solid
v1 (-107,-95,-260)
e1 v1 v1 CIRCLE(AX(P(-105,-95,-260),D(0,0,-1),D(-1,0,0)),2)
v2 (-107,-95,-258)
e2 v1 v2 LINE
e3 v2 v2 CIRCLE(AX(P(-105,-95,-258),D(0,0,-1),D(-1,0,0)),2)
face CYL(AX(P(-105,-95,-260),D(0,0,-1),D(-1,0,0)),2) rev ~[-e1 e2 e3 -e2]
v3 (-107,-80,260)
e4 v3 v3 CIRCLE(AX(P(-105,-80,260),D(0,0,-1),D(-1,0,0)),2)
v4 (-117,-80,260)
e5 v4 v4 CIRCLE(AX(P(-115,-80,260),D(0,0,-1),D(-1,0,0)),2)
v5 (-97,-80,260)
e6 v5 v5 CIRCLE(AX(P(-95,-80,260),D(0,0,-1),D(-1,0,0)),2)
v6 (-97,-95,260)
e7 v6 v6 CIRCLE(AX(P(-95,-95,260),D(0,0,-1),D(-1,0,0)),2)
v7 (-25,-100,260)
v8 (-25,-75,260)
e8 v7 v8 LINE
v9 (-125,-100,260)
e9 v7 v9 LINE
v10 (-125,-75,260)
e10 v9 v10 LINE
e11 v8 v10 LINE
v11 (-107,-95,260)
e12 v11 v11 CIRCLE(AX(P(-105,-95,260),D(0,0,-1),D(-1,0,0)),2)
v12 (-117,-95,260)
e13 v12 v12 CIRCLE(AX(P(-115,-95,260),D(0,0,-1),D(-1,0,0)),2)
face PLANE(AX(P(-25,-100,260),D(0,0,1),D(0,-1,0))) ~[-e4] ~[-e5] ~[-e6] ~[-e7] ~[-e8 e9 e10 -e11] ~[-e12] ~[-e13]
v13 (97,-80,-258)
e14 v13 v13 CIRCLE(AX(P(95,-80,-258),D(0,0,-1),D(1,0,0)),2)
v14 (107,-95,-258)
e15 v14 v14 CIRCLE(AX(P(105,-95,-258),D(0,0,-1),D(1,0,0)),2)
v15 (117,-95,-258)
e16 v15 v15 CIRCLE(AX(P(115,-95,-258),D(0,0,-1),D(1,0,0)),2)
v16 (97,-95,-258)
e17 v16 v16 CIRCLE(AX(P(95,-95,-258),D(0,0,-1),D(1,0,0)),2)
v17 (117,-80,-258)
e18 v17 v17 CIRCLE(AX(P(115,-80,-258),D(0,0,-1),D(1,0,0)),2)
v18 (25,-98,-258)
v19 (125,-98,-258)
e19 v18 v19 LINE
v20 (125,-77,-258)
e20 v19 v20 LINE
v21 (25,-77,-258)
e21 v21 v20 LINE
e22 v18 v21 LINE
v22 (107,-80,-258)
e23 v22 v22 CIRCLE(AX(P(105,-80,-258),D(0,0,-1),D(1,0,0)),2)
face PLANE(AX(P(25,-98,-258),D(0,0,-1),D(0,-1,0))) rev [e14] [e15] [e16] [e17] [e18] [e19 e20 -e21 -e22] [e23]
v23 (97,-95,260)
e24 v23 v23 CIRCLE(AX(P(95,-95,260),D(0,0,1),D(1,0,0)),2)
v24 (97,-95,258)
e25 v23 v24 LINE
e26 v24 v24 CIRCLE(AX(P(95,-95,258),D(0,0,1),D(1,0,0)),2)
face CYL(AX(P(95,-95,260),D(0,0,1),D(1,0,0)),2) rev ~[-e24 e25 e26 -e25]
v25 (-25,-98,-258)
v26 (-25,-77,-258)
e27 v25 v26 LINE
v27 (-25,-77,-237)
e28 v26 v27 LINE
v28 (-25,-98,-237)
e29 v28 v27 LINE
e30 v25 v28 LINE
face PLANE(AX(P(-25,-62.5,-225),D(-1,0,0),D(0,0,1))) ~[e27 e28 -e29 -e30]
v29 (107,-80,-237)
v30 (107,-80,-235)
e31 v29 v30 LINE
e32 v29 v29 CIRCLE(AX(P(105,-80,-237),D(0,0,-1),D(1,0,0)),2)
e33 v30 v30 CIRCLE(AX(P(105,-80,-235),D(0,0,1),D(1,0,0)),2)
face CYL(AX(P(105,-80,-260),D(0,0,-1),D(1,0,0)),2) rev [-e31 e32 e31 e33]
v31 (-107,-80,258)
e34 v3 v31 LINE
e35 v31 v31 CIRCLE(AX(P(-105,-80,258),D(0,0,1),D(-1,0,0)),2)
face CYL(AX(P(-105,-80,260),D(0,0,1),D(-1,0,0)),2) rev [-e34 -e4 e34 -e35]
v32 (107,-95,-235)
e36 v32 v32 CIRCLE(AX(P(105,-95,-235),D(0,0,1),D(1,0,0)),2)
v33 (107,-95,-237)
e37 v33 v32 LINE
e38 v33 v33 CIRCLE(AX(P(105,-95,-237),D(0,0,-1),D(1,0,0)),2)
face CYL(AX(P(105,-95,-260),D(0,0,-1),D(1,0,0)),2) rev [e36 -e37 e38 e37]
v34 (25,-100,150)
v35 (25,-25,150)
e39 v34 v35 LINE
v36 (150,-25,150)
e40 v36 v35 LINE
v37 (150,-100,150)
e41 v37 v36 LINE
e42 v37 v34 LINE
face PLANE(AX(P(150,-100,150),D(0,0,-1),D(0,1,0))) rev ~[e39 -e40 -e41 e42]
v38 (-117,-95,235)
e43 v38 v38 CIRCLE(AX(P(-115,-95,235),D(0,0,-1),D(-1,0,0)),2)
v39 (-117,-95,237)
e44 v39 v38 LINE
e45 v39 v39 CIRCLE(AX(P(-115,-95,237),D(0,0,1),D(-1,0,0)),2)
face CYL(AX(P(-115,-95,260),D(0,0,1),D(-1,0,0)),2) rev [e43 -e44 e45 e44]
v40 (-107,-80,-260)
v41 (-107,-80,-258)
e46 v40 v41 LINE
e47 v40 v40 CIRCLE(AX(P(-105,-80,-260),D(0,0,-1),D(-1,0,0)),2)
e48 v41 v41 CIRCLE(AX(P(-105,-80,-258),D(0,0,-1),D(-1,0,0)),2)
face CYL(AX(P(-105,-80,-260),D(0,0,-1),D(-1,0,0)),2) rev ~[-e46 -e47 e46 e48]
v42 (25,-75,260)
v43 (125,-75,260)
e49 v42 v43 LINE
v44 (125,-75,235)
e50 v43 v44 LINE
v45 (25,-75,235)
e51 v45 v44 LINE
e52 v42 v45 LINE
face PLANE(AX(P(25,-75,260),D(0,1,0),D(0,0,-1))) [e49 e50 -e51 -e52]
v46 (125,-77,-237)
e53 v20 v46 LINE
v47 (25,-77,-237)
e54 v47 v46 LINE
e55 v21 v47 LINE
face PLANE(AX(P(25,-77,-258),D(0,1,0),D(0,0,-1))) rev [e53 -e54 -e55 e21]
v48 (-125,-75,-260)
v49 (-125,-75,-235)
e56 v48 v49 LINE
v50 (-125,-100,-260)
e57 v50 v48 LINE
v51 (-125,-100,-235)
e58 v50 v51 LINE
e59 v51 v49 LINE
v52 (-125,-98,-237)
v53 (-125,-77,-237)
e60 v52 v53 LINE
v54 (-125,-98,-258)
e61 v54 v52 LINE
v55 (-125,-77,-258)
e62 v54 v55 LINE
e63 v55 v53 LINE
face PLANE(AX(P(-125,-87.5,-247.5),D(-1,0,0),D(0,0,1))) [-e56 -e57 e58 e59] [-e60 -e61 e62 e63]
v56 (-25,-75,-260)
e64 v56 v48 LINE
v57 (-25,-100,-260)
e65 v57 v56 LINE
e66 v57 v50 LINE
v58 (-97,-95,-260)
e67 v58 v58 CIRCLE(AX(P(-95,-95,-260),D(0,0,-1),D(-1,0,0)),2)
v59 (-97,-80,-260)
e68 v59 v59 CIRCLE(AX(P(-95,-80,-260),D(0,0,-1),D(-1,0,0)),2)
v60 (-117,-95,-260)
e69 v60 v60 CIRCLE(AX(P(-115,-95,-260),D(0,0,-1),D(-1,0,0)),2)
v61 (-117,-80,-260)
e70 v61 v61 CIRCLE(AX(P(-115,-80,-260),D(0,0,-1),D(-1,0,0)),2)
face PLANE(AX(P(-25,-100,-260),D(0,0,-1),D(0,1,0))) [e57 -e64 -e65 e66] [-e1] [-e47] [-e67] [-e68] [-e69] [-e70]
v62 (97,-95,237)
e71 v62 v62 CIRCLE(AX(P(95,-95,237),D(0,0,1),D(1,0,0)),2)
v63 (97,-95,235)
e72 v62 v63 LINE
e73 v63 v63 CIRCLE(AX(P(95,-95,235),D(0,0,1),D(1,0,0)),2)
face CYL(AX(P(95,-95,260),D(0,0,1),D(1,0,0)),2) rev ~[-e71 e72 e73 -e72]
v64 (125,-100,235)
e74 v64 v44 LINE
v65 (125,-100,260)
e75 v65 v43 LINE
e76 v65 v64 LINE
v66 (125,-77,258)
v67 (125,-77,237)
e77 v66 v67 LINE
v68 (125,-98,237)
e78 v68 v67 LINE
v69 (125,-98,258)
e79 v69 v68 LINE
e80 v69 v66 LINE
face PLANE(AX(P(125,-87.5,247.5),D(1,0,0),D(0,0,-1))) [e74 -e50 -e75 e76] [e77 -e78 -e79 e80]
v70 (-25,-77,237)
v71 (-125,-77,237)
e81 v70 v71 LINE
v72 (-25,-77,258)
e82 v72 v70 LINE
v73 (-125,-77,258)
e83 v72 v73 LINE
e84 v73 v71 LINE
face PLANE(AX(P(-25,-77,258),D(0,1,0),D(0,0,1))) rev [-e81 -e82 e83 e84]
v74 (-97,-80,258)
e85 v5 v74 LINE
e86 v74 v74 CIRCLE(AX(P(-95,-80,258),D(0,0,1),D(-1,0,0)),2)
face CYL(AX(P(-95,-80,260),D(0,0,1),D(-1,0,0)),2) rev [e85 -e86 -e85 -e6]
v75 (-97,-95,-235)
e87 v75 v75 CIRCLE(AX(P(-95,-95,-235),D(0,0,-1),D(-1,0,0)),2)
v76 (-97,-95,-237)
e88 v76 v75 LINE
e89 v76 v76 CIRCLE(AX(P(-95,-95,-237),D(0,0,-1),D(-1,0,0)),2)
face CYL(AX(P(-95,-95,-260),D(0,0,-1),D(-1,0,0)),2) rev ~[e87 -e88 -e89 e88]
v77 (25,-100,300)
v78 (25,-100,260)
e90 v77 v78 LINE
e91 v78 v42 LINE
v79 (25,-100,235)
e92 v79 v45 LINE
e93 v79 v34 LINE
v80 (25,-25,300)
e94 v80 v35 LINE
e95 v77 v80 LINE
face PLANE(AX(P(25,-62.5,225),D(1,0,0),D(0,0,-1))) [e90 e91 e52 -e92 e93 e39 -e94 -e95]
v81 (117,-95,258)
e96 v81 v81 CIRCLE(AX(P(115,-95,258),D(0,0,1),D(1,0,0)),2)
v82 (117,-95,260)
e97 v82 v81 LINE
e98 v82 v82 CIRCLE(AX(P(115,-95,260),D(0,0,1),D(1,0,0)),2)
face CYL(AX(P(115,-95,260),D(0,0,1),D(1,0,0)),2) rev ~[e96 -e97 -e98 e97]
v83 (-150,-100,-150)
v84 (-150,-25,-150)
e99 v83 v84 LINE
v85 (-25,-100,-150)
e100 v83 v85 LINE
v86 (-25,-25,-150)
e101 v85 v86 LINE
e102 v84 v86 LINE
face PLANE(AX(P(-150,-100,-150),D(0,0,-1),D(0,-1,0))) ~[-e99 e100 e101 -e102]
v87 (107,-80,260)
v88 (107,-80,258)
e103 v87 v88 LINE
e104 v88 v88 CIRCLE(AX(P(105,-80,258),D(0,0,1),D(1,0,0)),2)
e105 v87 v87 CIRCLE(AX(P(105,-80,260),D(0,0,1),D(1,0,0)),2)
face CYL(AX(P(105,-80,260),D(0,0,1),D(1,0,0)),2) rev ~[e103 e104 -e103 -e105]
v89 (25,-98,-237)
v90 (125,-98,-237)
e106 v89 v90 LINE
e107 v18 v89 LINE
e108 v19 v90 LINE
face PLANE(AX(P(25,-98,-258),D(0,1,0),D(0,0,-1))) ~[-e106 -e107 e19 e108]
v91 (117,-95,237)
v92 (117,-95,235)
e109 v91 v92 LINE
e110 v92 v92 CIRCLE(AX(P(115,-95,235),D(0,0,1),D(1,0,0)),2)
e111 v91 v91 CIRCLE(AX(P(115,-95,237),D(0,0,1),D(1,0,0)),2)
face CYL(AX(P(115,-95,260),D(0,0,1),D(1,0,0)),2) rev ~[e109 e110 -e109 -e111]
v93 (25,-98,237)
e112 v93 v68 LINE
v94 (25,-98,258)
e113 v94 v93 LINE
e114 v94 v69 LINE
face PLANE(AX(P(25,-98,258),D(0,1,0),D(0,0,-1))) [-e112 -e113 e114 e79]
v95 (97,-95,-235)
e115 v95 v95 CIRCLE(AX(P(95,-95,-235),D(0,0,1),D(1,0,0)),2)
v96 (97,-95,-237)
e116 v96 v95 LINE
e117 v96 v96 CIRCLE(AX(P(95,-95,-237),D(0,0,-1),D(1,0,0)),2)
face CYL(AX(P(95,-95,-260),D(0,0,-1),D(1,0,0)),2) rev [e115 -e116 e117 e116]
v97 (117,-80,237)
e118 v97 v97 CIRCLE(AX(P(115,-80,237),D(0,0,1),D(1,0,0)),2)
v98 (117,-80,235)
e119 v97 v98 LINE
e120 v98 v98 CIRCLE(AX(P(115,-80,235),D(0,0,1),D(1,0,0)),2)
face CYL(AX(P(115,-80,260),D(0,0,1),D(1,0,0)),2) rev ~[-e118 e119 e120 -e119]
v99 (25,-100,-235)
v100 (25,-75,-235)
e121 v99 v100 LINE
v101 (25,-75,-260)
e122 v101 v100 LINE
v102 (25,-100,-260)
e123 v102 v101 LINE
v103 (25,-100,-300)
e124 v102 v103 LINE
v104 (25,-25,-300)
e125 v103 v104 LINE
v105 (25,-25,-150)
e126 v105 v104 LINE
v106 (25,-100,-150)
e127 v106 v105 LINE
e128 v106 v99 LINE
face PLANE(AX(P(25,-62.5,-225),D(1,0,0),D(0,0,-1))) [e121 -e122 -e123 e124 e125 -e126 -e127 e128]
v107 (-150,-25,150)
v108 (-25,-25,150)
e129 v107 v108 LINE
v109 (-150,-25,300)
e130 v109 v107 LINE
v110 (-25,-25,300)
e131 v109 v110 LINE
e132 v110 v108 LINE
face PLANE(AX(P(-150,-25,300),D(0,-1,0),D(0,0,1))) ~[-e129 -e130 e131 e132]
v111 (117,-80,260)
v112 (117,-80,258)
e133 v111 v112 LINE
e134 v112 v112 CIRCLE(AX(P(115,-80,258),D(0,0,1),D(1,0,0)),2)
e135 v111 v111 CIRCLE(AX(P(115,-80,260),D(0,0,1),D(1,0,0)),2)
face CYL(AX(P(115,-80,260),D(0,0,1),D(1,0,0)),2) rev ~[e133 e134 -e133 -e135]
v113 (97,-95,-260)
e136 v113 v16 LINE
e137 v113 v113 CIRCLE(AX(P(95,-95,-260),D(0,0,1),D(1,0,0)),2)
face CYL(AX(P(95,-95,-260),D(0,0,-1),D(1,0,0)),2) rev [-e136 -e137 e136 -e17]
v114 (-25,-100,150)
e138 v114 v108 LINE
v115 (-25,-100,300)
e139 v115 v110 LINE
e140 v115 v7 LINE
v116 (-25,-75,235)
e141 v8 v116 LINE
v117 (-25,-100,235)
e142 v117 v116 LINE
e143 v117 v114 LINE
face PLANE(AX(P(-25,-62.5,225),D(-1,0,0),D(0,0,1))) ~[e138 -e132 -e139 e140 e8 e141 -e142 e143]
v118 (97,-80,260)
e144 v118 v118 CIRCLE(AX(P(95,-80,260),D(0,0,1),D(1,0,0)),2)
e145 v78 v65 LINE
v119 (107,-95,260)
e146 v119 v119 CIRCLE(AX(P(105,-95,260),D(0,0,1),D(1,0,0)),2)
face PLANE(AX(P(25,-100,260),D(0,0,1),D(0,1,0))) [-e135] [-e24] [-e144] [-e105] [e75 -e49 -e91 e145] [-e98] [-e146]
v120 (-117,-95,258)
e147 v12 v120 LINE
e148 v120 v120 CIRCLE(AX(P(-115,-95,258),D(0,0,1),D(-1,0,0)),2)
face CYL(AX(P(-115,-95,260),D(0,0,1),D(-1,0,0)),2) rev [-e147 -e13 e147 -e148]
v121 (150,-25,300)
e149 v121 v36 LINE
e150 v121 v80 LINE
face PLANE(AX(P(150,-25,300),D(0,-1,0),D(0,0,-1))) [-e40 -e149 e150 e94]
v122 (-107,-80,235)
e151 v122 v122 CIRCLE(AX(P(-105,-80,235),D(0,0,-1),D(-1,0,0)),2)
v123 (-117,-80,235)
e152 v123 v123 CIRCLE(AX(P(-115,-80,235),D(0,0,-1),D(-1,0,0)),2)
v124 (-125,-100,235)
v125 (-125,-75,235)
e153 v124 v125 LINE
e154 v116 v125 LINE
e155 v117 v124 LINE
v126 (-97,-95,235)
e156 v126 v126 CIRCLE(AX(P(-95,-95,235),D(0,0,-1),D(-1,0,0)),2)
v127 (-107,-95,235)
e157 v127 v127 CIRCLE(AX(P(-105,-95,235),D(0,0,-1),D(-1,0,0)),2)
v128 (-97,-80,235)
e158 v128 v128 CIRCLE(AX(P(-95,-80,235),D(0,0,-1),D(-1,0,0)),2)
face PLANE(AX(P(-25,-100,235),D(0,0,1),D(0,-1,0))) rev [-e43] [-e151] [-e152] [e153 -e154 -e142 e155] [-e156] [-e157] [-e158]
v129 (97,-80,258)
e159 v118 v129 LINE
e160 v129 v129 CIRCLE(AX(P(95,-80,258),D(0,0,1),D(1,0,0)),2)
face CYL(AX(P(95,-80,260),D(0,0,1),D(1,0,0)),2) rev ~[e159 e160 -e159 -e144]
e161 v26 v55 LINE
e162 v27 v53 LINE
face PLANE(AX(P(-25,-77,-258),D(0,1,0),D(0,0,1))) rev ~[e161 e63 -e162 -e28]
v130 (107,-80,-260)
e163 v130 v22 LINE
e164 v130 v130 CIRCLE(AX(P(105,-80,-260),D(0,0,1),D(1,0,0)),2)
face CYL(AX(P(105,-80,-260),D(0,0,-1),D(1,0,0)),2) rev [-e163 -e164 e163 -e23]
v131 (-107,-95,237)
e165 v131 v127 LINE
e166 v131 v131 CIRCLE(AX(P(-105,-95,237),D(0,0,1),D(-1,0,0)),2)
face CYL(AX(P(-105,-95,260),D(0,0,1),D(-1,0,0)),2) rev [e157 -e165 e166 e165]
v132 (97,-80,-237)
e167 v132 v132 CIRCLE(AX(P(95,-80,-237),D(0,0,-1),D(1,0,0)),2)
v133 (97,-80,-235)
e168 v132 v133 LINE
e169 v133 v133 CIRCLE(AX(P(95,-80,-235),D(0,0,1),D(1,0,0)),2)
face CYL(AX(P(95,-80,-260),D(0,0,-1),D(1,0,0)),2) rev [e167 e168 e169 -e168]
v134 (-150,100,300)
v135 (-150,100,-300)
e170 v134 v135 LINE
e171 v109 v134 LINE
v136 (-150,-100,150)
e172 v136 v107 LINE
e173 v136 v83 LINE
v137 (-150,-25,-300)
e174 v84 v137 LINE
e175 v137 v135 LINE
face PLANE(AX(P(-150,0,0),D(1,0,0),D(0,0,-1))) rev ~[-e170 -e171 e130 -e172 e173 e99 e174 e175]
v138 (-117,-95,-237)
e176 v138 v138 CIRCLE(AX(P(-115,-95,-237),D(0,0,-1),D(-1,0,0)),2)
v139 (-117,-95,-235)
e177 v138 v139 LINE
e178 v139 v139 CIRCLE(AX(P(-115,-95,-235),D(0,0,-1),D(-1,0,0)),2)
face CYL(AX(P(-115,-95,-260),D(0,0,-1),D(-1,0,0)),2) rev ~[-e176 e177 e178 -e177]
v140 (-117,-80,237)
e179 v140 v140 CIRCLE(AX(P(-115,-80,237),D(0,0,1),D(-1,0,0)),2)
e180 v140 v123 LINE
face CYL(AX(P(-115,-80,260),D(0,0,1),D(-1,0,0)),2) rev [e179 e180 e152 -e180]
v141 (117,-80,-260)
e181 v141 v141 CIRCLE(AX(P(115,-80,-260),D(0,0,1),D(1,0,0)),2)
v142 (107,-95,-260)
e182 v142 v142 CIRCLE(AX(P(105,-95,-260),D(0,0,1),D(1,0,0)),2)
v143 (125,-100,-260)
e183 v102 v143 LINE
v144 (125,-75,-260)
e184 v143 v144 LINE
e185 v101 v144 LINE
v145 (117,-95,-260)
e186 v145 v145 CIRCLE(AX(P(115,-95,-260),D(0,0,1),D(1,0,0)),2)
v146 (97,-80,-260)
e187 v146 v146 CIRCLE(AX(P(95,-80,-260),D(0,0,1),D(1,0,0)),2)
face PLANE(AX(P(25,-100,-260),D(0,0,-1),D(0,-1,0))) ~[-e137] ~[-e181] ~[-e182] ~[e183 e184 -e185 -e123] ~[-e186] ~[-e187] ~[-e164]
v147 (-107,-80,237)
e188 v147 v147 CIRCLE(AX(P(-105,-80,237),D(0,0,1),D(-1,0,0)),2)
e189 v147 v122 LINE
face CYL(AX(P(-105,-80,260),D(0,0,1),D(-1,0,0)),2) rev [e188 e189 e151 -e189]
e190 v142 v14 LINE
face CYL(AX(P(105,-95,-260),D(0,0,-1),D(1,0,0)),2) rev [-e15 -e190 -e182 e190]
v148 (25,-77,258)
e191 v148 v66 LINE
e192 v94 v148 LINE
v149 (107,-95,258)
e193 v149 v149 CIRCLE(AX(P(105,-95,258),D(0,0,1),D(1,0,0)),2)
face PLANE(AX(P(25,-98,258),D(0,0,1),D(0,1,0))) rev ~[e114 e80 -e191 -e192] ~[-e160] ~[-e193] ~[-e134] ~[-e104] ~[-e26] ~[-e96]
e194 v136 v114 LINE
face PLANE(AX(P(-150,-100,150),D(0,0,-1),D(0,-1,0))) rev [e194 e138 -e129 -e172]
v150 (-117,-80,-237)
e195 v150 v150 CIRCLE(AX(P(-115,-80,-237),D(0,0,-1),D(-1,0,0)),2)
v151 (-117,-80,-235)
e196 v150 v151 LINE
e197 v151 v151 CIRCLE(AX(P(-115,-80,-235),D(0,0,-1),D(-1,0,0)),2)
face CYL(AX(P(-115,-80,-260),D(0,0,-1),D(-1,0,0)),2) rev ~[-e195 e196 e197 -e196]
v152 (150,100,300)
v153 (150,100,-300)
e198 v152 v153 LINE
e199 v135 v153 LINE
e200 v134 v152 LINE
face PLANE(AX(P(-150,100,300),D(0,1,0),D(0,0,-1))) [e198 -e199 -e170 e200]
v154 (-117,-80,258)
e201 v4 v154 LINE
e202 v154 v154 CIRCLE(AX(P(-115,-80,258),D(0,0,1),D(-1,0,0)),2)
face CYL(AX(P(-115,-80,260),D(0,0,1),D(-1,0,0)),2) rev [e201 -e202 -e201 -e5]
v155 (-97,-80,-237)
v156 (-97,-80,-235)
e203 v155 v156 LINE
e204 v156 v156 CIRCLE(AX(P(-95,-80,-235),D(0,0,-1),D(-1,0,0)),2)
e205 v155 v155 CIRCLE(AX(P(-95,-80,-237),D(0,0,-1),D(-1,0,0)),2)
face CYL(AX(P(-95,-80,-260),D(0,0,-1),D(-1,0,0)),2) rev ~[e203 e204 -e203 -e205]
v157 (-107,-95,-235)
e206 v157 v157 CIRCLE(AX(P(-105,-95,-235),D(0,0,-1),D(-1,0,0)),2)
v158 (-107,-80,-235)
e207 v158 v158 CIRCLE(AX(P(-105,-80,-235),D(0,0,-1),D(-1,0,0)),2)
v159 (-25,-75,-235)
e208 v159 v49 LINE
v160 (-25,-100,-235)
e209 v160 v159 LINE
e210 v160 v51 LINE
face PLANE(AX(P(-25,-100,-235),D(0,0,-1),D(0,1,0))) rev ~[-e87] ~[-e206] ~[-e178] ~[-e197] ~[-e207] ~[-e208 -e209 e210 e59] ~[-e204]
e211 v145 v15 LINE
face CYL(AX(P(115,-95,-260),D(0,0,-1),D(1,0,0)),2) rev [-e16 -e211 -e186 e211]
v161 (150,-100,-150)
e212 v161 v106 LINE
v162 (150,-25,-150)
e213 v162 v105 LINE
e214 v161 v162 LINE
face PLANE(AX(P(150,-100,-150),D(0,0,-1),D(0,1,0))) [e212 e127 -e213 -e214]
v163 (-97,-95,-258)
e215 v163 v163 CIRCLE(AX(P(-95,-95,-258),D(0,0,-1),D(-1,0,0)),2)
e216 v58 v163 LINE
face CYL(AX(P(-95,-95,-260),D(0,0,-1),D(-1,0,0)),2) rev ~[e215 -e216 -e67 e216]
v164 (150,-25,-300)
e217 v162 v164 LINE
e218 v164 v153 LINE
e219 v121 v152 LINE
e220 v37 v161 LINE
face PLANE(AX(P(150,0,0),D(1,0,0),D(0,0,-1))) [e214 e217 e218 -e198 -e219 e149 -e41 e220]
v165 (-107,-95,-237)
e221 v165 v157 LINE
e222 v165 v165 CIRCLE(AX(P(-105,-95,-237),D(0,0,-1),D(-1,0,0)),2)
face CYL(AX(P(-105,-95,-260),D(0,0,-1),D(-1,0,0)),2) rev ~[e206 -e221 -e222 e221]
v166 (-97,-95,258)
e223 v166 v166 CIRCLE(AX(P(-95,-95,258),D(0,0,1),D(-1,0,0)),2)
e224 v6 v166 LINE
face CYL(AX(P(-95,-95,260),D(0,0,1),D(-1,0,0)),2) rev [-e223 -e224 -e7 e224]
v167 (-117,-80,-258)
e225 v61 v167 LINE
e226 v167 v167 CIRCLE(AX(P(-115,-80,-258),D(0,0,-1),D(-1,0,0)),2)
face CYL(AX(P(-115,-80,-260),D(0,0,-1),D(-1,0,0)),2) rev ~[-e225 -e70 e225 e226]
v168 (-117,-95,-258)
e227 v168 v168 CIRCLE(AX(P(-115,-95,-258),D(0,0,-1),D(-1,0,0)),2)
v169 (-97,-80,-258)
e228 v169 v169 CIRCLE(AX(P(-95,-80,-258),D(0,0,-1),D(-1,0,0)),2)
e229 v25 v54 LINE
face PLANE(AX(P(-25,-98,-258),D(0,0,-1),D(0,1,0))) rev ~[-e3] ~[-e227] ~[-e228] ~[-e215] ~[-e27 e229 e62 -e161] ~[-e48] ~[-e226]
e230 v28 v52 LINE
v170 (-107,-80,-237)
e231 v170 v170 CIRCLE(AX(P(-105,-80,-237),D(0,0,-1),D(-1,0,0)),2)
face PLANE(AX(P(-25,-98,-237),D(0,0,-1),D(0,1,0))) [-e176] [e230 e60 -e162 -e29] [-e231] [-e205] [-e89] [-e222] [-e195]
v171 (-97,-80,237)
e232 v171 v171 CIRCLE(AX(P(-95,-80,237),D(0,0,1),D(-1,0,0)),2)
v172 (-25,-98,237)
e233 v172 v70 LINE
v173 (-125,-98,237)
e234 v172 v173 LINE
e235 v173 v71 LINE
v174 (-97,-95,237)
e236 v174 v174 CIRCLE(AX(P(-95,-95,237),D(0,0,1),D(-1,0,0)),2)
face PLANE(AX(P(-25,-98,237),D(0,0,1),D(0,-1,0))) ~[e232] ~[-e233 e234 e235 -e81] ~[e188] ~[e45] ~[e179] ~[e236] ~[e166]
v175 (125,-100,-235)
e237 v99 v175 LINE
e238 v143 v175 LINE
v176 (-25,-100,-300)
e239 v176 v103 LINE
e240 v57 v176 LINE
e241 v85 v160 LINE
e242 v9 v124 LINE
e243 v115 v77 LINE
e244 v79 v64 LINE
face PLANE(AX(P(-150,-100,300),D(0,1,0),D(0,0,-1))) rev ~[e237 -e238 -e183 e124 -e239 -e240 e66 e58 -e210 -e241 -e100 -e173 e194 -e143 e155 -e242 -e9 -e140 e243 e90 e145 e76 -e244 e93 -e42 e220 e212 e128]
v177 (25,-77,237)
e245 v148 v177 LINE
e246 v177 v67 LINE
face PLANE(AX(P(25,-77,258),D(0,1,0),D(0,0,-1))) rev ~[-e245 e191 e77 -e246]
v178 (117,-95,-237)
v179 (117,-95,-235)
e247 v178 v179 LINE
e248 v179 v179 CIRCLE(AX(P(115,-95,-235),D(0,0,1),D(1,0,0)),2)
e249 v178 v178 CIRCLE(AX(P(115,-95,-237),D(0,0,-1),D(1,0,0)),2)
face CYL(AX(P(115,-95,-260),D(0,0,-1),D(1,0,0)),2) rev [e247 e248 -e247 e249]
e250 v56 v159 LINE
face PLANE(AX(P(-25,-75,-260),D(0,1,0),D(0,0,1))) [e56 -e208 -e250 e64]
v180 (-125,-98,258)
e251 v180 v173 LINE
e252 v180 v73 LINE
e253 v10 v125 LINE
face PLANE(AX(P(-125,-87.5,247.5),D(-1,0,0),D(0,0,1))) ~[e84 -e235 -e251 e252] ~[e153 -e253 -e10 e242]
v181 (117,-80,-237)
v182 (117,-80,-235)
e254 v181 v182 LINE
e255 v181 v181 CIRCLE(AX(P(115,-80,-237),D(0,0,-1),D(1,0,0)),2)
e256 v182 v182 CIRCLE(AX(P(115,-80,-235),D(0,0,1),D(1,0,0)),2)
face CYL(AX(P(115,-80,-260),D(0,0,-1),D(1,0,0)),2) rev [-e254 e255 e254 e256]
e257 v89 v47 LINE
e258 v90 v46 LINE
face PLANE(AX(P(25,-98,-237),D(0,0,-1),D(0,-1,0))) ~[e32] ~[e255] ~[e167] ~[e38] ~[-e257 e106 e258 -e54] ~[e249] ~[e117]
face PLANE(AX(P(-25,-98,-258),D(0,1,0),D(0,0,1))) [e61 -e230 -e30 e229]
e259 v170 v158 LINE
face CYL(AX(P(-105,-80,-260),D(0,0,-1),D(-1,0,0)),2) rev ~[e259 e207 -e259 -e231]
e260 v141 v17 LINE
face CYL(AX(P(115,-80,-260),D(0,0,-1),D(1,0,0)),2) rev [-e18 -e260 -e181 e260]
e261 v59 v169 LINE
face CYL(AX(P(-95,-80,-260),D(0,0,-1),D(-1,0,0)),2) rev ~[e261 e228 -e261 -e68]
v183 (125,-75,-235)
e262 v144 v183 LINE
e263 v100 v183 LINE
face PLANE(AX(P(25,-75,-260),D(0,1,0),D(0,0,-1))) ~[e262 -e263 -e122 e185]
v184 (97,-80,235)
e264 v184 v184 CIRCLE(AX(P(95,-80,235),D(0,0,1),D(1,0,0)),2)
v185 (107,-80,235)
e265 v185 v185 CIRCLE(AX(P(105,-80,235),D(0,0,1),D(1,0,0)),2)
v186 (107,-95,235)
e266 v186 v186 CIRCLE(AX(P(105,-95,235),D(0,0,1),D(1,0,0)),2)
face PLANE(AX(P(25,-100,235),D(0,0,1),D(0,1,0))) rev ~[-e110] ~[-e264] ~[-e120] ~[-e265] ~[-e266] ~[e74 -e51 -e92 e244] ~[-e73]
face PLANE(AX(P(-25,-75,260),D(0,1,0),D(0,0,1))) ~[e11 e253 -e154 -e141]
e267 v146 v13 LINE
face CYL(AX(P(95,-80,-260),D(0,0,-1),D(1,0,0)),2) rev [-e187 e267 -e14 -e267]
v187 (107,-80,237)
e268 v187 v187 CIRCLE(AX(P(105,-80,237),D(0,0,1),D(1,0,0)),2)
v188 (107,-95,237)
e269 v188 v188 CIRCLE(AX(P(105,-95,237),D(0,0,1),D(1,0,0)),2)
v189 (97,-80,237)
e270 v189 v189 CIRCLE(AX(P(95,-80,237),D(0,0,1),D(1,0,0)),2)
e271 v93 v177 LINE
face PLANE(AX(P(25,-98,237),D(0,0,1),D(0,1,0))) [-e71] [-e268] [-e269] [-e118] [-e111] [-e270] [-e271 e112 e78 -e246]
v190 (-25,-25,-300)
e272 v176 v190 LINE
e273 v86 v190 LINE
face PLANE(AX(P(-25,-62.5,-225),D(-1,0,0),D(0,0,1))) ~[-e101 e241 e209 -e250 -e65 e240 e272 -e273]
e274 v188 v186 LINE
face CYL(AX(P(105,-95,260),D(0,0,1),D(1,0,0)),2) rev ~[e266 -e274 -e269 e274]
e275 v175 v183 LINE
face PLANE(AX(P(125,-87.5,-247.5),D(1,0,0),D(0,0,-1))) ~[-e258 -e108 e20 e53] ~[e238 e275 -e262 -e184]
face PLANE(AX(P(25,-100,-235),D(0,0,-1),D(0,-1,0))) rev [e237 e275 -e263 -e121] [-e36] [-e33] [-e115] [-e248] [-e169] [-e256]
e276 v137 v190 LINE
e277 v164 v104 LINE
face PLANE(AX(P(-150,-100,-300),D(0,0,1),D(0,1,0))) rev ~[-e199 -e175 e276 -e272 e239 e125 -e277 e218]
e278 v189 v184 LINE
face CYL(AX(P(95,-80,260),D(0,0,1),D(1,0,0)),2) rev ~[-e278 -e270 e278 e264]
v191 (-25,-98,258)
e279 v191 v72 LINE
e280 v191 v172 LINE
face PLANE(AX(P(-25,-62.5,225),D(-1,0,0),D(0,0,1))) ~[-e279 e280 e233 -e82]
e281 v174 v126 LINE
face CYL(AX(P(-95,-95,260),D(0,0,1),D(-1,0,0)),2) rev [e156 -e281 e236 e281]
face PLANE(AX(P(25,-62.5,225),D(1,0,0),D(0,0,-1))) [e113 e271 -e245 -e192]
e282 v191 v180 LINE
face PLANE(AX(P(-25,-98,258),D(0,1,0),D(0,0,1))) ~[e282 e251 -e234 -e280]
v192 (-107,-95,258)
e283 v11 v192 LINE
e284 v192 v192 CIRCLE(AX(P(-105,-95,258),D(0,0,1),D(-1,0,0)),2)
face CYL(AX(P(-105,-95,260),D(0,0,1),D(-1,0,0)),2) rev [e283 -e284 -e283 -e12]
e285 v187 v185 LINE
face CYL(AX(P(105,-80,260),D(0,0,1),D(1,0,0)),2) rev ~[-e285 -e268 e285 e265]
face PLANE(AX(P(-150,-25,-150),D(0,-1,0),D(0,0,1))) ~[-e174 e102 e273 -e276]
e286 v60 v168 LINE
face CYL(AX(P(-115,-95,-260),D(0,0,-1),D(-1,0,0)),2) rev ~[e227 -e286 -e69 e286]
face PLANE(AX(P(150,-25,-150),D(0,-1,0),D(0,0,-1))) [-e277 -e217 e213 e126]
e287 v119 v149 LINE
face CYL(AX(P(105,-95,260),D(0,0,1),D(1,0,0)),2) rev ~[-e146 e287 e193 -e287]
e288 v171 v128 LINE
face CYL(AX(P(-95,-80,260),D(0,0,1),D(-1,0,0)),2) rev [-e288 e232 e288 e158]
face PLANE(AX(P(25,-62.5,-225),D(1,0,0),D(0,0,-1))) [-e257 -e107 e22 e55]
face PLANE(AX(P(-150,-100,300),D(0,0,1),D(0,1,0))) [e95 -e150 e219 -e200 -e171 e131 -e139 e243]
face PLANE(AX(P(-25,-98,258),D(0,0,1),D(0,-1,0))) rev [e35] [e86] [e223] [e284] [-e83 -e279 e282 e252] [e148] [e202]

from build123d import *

# Parameters (mm, degrees)
BOSS_EXTRUDE1_DEPTH       = 150
BOSS_EXTRUDE1_DEPTH_BACK  = 150
SKETCH2_W                 = 600
SKETCH2_H                 = 200
SKETCH3_W                 = 150
SKETCH3_H                 = 75
CUT_EXTRUDE1_DEPTH        = 125
SKETCH4_W                 = 25
SKETCH4_H                 = 25
SKETCH4_W_2               = 21
SKETCH4_H_2               = 21
BOSS_EXTRUDE2_DEPTH       = 100
SKETCH5_R                 = 2
CUT_EXTRUDE2_DEPTH        = 25
MIRROR3_COPY_1_SKETCH_W   = 25
MIRROR3_COPY_1_SKETCH_H   = 25
MIRROR3_COPY_1_SKETCH_W_2 = 21
MIRROR3_COPY_1_SKETCH_H_2 = 21
MIRROR3_COPY_1_DEPTH      = 100
MIRROR3_COPY_2_SKETCH_R   = 2
MIRROR3_COPY_2_DEPTH      = 25
MIRROR3_COPY_3_SKETCH_W   = 25
MIRROR3_COPY_3_SKETCH_H   = 25
MIRROR3_COPY_3_SKETCH_W_2 = 21
MIRROR3_COPY_3_SKETCH_H_2 = 21
MIRROR3_COPY_3_DEPTH      = 100
MIRROR3_COPY_4_SKETCH_R   = 2
MIRROR3_COPY_4_DEPTH      = 25


with BuildPart() as part:
    # Sketch2 → Boss-Extrude1 (new, two sides: drawn at the far end of the back side and taken through both)
    with BuildSketch(Plane(origin=(0, 0, 0), x_dir=(0, 0, -1), z_dir=(1, 0, 0)).offset(-BOSS_EXTRUDE1_DEPTH_BACK)):
        Rectangle(SKETCH2_W, SKETCH2_H)
    extrude(amount=BOSS_EXTRUDE1_DEPTH + BOSS_EXTRUDE1_DEPTH_BACK)

    # Sketch3 → Cut-Extrude1 (cut)
    with BuildSketch(Plane(origin=(150, 0, 0), x_dir=(0, 0, -1), z_dir=(1, 0, 0))):
        with Locations((-225, -62.5)):
            Rectangle(SKETCH3_W, SKETCH3_H)
        with Locations((225, -62.5)):
            Rectangle(SKETCH3_W, SKETCH3_H)
    cut_extrude1 = extrude(amount=-CUT_EXTRUDE1_DEPTH, mode=Mode.SUBTRACT)

    # Mirror1: Cut-Extrude1 across plane
    add(cut_extrude1.mirror(Plane(origin=(0, 0, 0), x_dir=(0, 0, 1), z_dir=(1, 0, 0))), mode=Mode.SUBTRACT)

    # Sketch4 → Boss-Extrude2 (add)
    with BuildSketch(Plane(origin=(25, 0, 0), x_dir=(0, 0, -1), z_dir=(1, 0, 0))):
        with Locations((-247.5, -87.5)):
            Rectangle(SKETCH4_W, SKETCH4_H)
        with Locations((-247.5, -87.5)):
            Rectangle(SKETCH4_W_2, SKETCH4_H_2, mode=Mode.SUBTRACT)
    boss_extrude2 = extrude(amount=BOSS_EXTRUDE2_DEPTH)

    # Sketch5 → Cut-Extrude2 (cut)
    with BuildSketch(Plane.XY.offset(260)):
        with Locations((115, -80)):
            Circle(SKETCH5_R)
        with Locations((105, -80)):
            Circle(SKETCH5_R)
        with Locations((95, -80)):
            Circle(SKETCH5_R)
        with Locations((115, -95)):
            Circle(SKETCH5_R)
        with Locations((105, -95)):
            Circle(SKETCH5_R)
        with Locations((95, -95)):
            Circle(SKETCH5_R)
    cut_extrude2 = extrude(amount=-CUT_EXTRUDE2_DEPTH, mode=Mode.SUBTRACT)

    # Mirror2: Boss-Extrude2, Cut-Extrude2 across plane
    add(boss_extrude2.mirror(Plane(origin=(0, 0, 0), x_dir=(0, 0, 1), z_dir=(1, 0, 0))))
    add(cut_extrude2.mirror(Plane(origin=(0, 0, 0), x_dir=(0, 0, 1), z_dir=(1, 0, 0))), mode=Mode.SUBTRACT)

    # Mirror3 copy 1 sketch → Mirror3 copy 1 (add)
    with BuildSketch(Plane.ZY.offset(25)):
        with Locations((-247.5, -87.5)):
            Rectangle(MIRROR3_COPY_1_SKETCH_W, MIRROR3_COPY_1_SKETCH_H)
        with Locations((-247.5, -87.5)):
            Rectangle(MIRROR3_COPY_1_SKETCH_W_2, MIRROR3_COPY_1_SKETCH_H_2, mode=Mode.SUBTRACT)
    extrude(amount=MIRROR3_COPY_1_DEPTH)

    # Mirror3 copy 2 sketch → Mirror3 copy 2 (cut)
    with BuildSketch(Plane(origin=(0, 0, -260), x_dir=(-1, 0, 0), z_dir=(0, 0, -1))):
        with Locations((115, -80)):
            Circle(MIRROR3_COPY_2_SKETCH_R)
        with Locations((105, -80)):
            Circle(MIRROR3_COPY_2_SKETCH_R)
        with Locations((95, -80)):
            Circle(MIRROR3_COPY_2_SKETCH_R)
        with Locations((115, -95)):
            Circle(MIRROR3_COPY_2_SKETCH_R)
        with Locations((105, -95)):
            Circle(MIRROR3_COPY_2_SKETCH_R)
        with Locations((95, -95)):
            Circle(MIRROR3_COPY_2_SKETCH_R)
    extrude(amount=-MIRROR3_COPY_2_DEPTH, mode=Mode.SUBTRACT)

    # Mirror3 copy 3 sketch → Mirror3 copy 3 (add)
    with BuildSketch(Plane(origin=(25, 0, 0), x_dir=(0, 0, 1), z_dir=(1, 0, 0))):
        with Locations((-247.5, 87.5)):
            Rectangle(MIRROR3_COPY_3_SKETCH_W, MIRROR3_COPY_3_SKETCH_H)
        with Locations((-247.5, 87.5)):
            Rectangle(MIRROR3_COPY_3_SKETCH_W_2, MIRROR3_COPY_3_SKETCH_H_2, mode=Mode.SUBTRACT)
    extrude(amount=MIRROR3_COPY_3_DEPTH)

    # Mirror3 copy 4 sketch → Mirror3 copy 4 (cut)
    with BuildSketch(Plane(origin=(0, 0, -260), x_dir=(1, 0, 0), z_dir=(0, 0, -1))):
        with Locations((115, 80)):
            Circle(MIRROR3_COPY_4_SKETCH_R)
        with Locations((105, 80)):
            Circle(MIRROR3_COPY_4_SKETCH_R)
        with Locations((95, 80)):
            Circle(MIRROR3_COPY_4_SKETCH_R)
        with Locations((115, 95)):
            Circle(MIRROR3_COPY_4_SKETCH_R)
        with Locations((105, 95)):
            Circle(MIRROR3_COPY_4_SKETCH_R)
        with Locations((95, 95)):
            Circle(MIRROR3_COPY_4_SKETCH_R)
    extrude(amount=-MIRROR3_COPY_4_DEPTH, mode=Mode.SUBTRACT)


solid = part.part
